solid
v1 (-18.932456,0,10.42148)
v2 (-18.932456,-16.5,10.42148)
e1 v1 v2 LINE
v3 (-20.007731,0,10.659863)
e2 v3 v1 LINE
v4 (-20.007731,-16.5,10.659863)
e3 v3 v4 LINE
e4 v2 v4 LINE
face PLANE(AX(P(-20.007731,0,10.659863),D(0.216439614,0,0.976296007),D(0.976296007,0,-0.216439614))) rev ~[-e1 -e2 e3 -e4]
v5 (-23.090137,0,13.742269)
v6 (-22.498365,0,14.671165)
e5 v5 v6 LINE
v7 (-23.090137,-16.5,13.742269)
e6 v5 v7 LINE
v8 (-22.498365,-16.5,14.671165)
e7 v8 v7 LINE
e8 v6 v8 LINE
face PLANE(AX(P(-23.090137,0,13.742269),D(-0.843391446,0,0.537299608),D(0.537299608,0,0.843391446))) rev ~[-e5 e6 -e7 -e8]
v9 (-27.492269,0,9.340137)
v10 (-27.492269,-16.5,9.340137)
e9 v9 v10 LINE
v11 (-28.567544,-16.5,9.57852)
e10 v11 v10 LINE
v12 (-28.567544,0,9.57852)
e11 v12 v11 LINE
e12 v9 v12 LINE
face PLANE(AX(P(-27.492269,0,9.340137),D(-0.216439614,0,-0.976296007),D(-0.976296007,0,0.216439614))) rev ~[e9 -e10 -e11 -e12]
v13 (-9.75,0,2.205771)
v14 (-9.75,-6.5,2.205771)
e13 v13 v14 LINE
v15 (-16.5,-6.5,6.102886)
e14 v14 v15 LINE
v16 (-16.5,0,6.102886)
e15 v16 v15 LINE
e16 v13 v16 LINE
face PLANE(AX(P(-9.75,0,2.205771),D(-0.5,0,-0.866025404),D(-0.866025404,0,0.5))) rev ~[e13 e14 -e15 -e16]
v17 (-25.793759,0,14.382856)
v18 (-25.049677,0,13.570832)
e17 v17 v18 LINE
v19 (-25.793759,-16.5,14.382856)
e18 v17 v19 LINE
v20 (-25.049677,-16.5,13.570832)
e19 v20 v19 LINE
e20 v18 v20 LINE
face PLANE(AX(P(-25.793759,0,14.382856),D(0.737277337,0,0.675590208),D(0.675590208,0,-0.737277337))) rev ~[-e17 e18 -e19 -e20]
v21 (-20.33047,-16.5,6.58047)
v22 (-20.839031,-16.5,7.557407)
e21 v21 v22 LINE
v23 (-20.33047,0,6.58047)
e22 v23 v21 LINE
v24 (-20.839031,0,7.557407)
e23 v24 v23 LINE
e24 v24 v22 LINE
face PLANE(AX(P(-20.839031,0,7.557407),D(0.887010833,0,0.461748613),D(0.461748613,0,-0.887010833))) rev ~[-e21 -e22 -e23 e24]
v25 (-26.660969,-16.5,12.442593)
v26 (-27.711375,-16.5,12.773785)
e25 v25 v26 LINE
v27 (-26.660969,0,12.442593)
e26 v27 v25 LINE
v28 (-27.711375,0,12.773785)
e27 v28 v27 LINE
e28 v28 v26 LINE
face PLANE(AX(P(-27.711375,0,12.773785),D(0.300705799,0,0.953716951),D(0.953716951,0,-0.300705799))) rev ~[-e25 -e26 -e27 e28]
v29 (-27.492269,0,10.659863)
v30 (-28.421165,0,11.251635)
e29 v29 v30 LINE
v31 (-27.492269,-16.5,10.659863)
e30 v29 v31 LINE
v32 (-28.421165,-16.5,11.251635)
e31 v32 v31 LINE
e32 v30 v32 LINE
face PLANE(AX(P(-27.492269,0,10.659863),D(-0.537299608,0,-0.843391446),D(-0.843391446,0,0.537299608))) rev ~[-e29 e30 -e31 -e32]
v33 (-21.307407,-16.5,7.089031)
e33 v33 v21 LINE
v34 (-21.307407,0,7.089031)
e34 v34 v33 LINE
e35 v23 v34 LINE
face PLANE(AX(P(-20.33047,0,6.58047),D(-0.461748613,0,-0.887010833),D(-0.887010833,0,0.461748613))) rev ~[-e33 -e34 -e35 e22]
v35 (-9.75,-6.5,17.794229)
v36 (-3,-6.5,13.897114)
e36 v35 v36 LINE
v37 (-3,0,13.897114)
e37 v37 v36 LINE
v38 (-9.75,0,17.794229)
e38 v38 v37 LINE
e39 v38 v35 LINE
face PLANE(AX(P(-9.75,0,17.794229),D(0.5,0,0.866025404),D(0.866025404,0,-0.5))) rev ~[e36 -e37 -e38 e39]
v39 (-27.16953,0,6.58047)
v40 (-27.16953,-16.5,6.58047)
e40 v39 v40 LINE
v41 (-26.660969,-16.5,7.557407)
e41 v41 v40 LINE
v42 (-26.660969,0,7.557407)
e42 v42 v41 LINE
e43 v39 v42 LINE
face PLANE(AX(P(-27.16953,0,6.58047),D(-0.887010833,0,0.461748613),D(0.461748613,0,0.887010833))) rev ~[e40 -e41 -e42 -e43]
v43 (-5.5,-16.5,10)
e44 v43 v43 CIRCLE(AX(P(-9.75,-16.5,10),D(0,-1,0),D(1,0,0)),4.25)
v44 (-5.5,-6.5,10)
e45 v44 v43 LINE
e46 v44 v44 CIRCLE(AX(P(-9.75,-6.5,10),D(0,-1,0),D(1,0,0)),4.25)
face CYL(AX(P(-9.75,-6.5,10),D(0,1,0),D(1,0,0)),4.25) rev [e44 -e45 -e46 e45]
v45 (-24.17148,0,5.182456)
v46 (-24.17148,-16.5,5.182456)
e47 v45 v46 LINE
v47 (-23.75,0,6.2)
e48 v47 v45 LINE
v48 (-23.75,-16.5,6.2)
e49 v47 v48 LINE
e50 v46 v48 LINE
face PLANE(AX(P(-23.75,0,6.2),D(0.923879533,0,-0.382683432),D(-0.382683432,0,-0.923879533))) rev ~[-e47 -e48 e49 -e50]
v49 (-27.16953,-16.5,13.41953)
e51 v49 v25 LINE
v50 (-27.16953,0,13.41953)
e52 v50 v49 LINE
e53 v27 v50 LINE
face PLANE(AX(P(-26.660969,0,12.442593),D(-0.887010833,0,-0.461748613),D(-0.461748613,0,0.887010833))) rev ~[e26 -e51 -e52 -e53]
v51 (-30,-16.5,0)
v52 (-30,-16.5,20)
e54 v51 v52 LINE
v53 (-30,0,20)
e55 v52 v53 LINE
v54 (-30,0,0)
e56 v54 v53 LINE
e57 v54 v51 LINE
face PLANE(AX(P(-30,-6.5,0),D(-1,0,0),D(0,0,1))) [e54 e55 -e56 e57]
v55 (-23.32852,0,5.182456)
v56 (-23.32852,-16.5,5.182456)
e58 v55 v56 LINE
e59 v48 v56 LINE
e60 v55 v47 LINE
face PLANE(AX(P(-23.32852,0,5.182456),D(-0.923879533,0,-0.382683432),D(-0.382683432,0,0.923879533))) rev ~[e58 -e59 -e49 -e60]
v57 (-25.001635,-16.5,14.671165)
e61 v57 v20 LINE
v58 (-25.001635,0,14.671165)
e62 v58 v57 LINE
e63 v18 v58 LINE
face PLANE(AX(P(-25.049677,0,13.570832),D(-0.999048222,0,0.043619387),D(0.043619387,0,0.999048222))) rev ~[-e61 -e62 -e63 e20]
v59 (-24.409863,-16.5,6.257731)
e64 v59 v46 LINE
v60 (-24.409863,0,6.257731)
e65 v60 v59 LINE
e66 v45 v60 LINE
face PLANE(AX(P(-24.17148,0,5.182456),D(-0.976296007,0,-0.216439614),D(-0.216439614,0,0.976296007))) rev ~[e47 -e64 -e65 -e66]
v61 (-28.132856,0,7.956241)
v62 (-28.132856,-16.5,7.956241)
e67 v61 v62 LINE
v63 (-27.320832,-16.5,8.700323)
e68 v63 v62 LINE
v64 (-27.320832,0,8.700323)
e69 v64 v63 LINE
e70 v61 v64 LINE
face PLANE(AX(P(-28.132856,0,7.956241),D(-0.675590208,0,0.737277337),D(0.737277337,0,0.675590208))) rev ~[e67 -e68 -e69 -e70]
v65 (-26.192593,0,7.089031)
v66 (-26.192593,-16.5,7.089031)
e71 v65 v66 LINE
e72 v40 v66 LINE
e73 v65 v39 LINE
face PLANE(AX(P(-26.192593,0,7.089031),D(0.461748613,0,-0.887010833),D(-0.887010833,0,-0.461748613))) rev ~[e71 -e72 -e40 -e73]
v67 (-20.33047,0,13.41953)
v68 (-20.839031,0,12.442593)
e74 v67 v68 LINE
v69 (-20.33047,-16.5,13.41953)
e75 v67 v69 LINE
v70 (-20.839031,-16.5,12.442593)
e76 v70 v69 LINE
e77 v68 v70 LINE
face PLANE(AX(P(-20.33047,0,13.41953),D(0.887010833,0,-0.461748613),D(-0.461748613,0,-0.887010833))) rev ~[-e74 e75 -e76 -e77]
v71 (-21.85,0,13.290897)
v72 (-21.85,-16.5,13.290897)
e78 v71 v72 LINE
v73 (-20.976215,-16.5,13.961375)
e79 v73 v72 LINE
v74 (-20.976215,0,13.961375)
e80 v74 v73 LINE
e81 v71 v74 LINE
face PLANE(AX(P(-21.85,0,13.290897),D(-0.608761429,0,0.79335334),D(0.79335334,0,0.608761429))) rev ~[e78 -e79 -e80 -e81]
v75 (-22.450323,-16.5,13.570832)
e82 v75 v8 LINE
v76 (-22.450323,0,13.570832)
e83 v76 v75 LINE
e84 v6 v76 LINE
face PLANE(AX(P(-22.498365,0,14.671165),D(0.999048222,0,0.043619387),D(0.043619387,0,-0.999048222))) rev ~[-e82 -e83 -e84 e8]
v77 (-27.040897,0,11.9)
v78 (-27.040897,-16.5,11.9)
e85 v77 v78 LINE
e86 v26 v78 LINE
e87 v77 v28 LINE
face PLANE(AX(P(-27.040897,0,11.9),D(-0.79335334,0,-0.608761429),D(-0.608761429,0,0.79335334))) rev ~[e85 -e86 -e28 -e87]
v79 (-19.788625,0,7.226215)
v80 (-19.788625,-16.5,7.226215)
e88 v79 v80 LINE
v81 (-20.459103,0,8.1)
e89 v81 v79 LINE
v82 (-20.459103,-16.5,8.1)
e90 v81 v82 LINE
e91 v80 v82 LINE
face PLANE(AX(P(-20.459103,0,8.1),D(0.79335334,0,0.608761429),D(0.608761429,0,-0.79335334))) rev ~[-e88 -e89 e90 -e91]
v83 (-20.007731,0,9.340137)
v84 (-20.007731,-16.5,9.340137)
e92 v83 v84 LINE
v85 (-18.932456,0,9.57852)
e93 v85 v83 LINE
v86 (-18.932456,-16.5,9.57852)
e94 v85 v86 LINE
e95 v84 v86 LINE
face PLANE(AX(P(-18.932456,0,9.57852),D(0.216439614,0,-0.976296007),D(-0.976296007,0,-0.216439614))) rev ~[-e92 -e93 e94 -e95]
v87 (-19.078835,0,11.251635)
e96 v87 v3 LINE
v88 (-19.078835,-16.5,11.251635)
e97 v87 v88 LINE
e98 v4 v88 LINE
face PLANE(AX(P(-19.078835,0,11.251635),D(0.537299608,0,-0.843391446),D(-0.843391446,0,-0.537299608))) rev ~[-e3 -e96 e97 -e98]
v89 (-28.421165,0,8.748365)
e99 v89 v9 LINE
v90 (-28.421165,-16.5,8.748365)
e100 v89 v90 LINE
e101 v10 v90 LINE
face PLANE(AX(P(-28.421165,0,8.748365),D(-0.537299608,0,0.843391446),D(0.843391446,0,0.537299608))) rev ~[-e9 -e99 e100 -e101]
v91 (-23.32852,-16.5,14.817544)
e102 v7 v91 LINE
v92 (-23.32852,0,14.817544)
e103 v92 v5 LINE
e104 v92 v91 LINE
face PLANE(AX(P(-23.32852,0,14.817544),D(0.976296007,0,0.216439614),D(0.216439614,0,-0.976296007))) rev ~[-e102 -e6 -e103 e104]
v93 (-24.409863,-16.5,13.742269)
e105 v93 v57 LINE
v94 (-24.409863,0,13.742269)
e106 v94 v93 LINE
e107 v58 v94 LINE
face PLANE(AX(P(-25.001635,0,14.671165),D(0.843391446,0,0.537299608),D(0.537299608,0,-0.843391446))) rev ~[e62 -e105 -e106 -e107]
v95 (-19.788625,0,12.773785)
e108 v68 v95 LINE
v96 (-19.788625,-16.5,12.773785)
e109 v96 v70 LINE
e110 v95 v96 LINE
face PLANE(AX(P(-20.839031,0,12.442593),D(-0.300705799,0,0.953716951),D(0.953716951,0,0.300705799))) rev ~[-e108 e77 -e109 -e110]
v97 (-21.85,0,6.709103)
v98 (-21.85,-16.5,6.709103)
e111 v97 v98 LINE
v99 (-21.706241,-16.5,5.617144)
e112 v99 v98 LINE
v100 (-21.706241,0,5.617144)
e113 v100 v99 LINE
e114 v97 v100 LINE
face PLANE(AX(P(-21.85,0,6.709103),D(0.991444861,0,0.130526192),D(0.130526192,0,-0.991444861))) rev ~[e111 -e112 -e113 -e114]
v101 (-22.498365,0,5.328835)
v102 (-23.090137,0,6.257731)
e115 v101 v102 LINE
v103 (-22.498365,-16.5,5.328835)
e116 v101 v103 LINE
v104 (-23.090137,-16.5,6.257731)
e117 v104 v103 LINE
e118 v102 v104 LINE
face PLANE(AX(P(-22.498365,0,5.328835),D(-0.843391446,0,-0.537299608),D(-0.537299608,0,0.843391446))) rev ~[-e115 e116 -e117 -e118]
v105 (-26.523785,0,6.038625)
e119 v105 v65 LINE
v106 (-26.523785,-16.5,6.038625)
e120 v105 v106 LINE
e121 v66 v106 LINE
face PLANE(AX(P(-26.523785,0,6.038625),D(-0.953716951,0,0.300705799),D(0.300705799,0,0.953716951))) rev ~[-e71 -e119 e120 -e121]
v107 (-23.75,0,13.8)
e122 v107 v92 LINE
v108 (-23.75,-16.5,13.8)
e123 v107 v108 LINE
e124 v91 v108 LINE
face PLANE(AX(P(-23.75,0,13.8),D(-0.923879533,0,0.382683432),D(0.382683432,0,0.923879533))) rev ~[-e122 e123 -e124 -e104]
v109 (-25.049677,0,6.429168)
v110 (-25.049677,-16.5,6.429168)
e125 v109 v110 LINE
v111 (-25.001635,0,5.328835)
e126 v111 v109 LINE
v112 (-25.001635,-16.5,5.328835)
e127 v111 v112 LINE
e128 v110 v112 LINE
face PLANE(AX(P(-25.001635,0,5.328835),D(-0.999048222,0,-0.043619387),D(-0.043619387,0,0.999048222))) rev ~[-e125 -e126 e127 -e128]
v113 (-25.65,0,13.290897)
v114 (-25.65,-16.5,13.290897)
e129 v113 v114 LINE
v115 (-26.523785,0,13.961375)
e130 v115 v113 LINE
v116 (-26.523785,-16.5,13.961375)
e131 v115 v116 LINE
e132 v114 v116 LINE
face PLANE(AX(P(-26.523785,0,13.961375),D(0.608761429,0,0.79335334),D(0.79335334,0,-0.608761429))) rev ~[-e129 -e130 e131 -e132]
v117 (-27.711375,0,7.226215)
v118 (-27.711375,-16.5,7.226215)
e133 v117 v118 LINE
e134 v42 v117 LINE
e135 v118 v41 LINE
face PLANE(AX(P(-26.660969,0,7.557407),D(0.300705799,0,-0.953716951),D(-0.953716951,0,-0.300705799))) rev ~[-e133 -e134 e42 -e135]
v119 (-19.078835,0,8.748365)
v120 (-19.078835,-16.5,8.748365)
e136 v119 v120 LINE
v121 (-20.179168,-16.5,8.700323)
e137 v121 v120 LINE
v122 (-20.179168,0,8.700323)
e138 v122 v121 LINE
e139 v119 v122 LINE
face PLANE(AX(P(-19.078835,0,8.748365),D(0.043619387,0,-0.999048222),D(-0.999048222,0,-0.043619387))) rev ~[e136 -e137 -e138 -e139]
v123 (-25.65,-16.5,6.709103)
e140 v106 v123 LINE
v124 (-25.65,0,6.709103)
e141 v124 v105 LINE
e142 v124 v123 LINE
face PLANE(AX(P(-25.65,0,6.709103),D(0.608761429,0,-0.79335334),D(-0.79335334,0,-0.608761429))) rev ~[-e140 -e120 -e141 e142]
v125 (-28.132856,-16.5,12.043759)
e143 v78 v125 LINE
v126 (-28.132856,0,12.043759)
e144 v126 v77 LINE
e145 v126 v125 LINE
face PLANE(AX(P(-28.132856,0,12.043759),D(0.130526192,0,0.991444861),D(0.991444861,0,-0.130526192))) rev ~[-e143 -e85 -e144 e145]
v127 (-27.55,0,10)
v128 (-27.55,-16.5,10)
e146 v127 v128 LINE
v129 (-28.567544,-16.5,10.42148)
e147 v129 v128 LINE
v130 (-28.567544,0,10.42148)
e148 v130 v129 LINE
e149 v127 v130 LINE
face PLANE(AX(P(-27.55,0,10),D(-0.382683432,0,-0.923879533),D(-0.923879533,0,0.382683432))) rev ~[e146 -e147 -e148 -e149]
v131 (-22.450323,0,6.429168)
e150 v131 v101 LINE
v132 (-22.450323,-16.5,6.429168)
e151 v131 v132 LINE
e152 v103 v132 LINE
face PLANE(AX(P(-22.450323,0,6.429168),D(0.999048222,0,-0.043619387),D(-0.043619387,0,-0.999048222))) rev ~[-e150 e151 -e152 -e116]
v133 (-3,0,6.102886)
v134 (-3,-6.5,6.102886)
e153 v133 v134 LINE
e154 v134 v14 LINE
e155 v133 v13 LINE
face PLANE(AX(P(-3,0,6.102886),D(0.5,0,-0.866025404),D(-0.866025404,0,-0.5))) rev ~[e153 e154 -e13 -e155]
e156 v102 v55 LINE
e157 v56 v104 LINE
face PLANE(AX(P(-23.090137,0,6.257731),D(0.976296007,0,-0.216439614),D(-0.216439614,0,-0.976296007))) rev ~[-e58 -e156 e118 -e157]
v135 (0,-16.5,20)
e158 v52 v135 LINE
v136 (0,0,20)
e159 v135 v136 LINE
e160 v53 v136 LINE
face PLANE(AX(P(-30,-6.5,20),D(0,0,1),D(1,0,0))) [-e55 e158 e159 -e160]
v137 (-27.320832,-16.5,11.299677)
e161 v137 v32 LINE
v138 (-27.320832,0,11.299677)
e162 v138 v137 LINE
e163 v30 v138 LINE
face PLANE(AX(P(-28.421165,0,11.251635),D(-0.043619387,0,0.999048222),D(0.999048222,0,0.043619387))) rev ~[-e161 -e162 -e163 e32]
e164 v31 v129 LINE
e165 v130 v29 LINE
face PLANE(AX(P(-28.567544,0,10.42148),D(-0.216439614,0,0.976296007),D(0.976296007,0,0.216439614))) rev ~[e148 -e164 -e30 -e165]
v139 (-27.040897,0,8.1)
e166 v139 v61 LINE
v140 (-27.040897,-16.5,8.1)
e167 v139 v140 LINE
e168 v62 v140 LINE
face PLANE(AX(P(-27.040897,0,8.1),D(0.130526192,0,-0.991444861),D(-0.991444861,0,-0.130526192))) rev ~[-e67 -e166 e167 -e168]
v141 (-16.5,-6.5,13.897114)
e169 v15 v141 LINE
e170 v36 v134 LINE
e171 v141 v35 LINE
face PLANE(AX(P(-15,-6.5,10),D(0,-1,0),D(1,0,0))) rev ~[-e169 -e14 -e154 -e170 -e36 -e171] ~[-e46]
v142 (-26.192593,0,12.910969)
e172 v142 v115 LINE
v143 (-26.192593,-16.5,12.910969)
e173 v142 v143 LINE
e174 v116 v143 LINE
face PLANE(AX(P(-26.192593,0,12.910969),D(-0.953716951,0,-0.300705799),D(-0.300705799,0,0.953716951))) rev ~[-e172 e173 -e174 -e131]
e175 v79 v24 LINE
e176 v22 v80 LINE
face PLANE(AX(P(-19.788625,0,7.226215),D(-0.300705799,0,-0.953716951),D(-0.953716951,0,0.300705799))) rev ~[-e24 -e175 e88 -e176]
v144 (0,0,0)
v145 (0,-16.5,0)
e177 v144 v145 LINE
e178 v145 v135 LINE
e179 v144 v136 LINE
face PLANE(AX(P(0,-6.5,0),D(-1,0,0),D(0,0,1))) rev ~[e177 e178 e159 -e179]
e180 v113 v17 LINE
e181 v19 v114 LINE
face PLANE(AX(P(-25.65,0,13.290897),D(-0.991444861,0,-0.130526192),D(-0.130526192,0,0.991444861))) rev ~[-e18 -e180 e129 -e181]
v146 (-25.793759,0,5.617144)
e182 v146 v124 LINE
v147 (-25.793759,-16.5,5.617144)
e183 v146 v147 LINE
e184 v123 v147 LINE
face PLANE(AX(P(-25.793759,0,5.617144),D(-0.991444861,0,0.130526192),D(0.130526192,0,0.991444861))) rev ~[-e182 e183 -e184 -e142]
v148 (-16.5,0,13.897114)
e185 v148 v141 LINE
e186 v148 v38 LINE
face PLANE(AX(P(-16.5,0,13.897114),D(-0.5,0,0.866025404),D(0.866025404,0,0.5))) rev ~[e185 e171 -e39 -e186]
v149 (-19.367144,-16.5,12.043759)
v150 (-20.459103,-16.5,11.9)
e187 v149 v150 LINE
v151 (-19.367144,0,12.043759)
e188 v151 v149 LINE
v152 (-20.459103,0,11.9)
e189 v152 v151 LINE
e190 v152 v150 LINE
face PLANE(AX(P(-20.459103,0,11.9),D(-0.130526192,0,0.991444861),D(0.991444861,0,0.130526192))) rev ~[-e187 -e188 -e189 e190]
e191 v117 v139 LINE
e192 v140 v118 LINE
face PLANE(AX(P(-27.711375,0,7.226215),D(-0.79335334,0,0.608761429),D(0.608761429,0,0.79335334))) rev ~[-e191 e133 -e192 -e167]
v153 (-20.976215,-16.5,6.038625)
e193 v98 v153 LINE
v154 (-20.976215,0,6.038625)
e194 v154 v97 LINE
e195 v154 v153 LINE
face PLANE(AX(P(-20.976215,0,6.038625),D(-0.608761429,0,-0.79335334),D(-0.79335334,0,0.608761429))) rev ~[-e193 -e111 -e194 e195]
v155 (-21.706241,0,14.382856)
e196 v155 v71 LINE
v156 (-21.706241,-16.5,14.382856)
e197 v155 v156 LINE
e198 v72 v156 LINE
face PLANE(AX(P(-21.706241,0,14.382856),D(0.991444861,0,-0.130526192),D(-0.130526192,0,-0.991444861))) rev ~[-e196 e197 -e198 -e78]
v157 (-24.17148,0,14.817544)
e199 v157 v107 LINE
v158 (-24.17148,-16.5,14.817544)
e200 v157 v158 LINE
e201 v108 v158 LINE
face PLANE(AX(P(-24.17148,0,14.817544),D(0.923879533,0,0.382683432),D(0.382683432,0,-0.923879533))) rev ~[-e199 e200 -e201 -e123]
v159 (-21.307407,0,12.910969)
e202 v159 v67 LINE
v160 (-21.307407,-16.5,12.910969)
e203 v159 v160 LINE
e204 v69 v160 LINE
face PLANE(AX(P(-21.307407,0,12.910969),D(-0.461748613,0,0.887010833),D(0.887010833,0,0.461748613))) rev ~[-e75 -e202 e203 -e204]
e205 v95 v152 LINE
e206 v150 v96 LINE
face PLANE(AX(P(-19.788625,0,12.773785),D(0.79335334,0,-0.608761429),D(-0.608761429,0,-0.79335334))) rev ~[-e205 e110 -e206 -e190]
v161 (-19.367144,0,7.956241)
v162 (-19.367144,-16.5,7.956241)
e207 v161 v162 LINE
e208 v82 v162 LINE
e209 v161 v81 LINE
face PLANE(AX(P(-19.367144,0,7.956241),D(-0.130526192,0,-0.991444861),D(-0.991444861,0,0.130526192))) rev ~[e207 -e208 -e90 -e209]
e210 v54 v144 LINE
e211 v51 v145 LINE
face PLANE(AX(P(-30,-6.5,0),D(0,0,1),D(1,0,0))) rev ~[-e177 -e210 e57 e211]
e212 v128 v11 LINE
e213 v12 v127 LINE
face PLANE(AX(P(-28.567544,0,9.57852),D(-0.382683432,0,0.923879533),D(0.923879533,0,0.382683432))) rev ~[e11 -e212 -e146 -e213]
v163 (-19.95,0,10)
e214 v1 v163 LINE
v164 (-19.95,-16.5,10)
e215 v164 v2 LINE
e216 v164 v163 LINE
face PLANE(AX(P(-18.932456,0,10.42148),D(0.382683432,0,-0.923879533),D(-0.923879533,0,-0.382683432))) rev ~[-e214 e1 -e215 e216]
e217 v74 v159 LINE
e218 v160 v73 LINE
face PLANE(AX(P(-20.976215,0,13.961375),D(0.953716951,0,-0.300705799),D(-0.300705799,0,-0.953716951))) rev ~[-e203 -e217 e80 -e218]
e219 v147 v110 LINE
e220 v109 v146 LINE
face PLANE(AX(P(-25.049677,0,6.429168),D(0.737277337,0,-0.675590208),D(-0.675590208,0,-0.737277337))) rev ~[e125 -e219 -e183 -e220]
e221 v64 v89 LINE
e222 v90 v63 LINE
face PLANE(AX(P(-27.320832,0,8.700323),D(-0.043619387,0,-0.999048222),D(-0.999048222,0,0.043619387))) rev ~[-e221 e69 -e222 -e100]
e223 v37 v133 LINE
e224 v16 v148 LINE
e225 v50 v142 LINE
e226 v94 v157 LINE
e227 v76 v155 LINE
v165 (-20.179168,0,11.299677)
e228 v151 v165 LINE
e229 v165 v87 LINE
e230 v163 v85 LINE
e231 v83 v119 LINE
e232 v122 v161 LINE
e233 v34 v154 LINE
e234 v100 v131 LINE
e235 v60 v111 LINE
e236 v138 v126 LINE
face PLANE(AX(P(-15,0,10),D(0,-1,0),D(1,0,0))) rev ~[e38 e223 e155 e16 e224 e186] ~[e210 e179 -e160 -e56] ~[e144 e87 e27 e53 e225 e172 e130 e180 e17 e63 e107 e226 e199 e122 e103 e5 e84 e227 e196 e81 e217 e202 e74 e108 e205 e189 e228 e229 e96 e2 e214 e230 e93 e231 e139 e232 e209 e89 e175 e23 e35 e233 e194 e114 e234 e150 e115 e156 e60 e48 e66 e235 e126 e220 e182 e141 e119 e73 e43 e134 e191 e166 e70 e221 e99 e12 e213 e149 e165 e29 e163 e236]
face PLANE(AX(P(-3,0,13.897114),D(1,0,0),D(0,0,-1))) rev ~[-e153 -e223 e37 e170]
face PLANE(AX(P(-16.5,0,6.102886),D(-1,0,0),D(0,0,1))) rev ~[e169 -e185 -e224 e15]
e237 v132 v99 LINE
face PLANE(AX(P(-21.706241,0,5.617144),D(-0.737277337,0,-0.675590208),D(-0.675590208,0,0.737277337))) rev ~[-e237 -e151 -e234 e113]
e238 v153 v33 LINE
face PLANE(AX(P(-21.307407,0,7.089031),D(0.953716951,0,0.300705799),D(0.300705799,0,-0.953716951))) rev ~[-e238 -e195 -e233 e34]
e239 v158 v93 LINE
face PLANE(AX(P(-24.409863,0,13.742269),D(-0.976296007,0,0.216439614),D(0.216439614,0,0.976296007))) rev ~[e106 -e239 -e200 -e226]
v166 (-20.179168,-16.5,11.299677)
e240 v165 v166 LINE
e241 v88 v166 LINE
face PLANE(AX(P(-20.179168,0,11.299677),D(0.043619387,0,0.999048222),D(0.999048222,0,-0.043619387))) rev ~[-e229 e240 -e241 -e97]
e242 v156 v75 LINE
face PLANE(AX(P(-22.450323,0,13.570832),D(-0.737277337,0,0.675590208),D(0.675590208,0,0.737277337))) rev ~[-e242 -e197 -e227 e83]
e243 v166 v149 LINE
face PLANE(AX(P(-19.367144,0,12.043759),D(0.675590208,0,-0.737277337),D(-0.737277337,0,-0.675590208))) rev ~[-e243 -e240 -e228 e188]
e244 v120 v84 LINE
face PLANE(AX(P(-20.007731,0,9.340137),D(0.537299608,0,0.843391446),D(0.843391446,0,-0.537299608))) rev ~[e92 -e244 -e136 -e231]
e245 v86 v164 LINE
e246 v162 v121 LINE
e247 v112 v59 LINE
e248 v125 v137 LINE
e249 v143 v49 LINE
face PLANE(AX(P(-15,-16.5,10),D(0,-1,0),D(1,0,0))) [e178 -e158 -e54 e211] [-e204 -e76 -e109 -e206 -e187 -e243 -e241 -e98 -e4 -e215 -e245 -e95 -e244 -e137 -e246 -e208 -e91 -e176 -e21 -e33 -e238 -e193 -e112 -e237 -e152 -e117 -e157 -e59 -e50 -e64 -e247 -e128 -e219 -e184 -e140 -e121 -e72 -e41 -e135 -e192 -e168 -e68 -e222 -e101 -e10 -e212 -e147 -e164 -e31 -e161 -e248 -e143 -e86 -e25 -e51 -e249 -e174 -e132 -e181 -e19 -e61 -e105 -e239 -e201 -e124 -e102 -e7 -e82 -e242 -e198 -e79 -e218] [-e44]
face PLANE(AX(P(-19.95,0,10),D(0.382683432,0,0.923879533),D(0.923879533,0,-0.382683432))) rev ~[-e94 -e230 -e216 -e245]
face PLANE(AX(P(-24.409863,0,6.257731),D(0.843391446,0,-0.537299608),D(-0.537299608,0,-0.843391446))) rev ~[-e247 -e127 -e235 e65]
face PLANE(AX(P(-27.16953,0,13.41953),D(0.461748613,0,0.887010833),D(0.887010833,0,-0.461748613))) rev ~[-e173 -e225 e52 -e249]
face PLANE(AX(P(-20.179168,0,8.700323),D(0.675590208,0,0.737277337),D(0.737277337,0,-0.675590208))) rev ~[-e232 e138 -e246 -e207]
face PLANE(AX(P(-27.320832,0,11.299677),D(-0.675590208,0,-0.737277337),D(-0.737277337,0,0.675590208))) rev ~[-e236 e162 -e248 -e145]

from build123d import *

# Parameters (mm, degrees)
F0_W     = 30
F0_H     = 20
F0_R     = 3.8
F1_DEPTH = 6.5
F2_W     = 30
F2_H     = 20
F2_R     = 3.8
F2_R_2   = 4.25
F3_DEPTH = 10
F5_DEPTH = 25


with BuildPart() as f1:
    # F0 (on Front) → F1 (new body)
    with BuildSketch(Plane.XZ):
        with Locations((-15, 10)):
            Rectangle(F0_W, F0_H)
        Polygon((-3, 6.102885683), (-9.75, 2.2057713659), (-16.5, 6.102885683), (-16.5, 13.897114317), (-9.75, 17.7942286341), (-3, 13.897114317), align=None, mode=Mode.SUBTRACT)
        with Locations((-23.75, 10)):
            Circle(F0_R, mode=Mode.SUBTRACT)
    extrude(amount=F1_DEPTH)

    # F2 (on face) → F3 (join)
    with BuildSketch(Plane.XZ.offset(6.5)):
        with Locations((-15, 10)):
            Rectangle(F2_W, F2_H)
        with Locations((-23.75, 10)):
            Circle(F2_R, mode=Mode.SUBTRACT)
        with Locations((-9.75, 10)):
            Circle(F2_R_2, mode=Mode.SUBTRACT)
    extrude(amount=F3_DEPTH)

    # F4 (on face) → F5 (cut)
    with BuildSketch(Plane(origin=(0, 0, 0), x_dir=(-1, 0, 0), z_dir=(0, 1, 0))):
        with BuildLine():
            ThreePointArc((23.0901369249, 13.7422694614), (23.4188081776, 13.7855398527), (23.75, 13.8))
            Line((23.75, 13.8), (23.3285195244, 14.8175438804))
            Line((23.3285195244, 14.8175438804), (23.0901369249, 13.7422694614))
        make_face()
        with BuildLine():
            Line((24.1714804756, 14.8175438804), (23.75, 13.8))
            ThreePointArc((23.75, 13.8), (24.0811918224, 13.7855398527), (24.4098630751, 13.7422694614))
            Line((24.4098630751, 13.7422694614), (24.1714804756, 14.8175438804))
        make_face()
        with BuildLine():
            ThreePointArc((24.4098630751, 13.7422694614), (24.0811918224, 13.7855398527), (23.75, 13.8))
            ThreePointArc((23.75, 13.8), (23.4188081776, 13.7855398527), (23.0901369249, 13.7422694614))
            ThreePointArc((23.0901369249, 13.7422694614), (22.7664876286, 13.6705181399), (22.4503234554, 13.570831959))
            ThreePointArc((22.4503234554, 13.570831959), (22.1440506054, 13.4439695907), (21.85, 13.2908965344))
            ThreePointArc((21.85, 13.2908965344), (21.5704095419, 13.1127777683), (21.3074070832, 12.9109688839))
            ThreePointArc((21.3074070832, 12.9109688839), (21.0629942315, 12.6870057685), (20.8390311161, 12.4425929168))
            ThreePointArc((20.8390311161, 12.4425929168), (20.6372222317, 12.1795904581), (20.4591034656, 11.9))
            ThreePointArc((20.4591034656, 11.9), (20.3060304093, 11.6059493946), (20.179168041, 11.2996765446))
            ThreePointArc((20.179168041, 11.2996765446), (20.0794818601, 10.9835123714), (20.0077305386, 10.6598630751))
            ThreePointArc((20.0077305386, 10.6598630751), (19.9644601473, 10.3311918224), (19.95, 10))
            ThreePointArc((19.95, 10), (19.9644601473, 9.6688081776), (20.0077305386, 9.3401369249))
            ThreePointArc((20.0077305386, 9.3401369249), (20.0794818601, 9.0164876286), (20.179168041, 8.7003234554))
            ThreePointArc((20.179168041, 8.7003234554), (20.3060304093, 8.3940506054), (20.4591034656, 8.1))
            ThreePointArc((20.4591034656, 8.1), (20.6372222317, 7.8204095419), (20.8390311161, 7.5574070832))
            ThreePointArc((20.8390311161, 7.5574070832), (21.0629942315, 7.3129942315), (21.3074070832, 7.0890311161))
            ThreePointArc((21.3074070832, 7.0890311161), (21.5704095419, 6.8872222317), (21.85, 6.7091034656))
            ThreePointArc((21.85, 6.7091034656), (22.1440506054, 6.5560304093), (22.4503234554, 6.429168041))
            ThreePointArc((22.4503234554, 6.429168041), (22.7664876286, 6.3294818601), (23.0901369249, 6.2577305386))
            ThreePointArc((23.0901369249, 6.2577305386), (23.4188081776, 6.2144601473), (23.75, 6.2))
            ThreePointArc((23.75, 6.2), (24.0811918224, 6.2144601473), (24.4098630751, 6.2577305386))
            ThreePointArc((24.4098630751, 6.2577305386), (24.7335123714, 6.3294818601), (25.0496765446, 6.429168041))
            ThreePointArc((25.0496765446, 6.429168041), (25.3559493946, 6.5560304093), (25.65, 6.7091034656))
            ThreePointArc((25.65, 6.7091034656), (25.9295904581, 6.8872222317), (26.1925929168, 7.0890311161))
            ThreePointArc((26.1925929168, 7.0890311161), (26.4370057685, 7.3129942315), (26.6609688839, 7.5574070832))
            ThreePointArc((26.6609688839, 7.5574070832), (26.8627777683, 7.8204095419), (27.0408965344, 8.1))
            ThreePointArc((27.0408965344, 8.1), (27.1939695907, 8.3940506054), (27.320831959, 8.7003234554))
            ThreePointArc((27.320831959, 8.7003234554), (27.4205181399, 9.0164876286), (27.4922694614, 9.3401369249))
            ThreePointArc((27.4922694614, 9.3401369249), (27.5355398527, 9.6688081776), (27.55, 10))
            ThreePointArc((27.55, 10), (27.5355398527, 10.3311918224), (27.4922694614, 10.6598630751))
            ThreePointArc((27.4922694614, 10.6598630751), (27.4205181399, 10.9835123714), (27.320831959, 11.2996765446))
            ThreePointArc((27.320831959, 11.2996765446), (27.1939695907, 11.6059493946), (27.0408965344, 11.9))
            ThreePointArc((27.0408965344, 11.9), (26.8627777683, 12.1795904581), (26.6609688839, 12.4425929168))
            ThreePointArc((26.6609688839, 12.4425929168), (26.4370057685, 12.6870057685), (26.1925929168, 12.9109688839))
            ThreePointArc((26.1925929168, 12.9109688839), (25.9295904581, 13.1127777683), (25.65, 13.2908965344))
            ThreePointArc((25.65, 13.2908965344), (25.3559493946, 13.4439695907), (25.0496765446, 13.570831959))
            ThreePointArc((25.0496765446, 13.570831959), (24.7335123714, 13.6705181399), (24.4098630751, 13.7422694614))
        make_face()
        with BuildLine():
            Line((25.0016349558, 14.6711652474), (24.4098630751, 13.7422694614))
            ThreePointArc((24.4098630751, 13.7422694614), (24.7335123714, 13.6705181399), (25.0496765446, 13.570831959))
            Line((25.0496765446, 13.570831959), (25.0016349558, 14.6711652474))
        make_face()
        with BuildLine():
            ThreePointArc((22.4503234554, 13.570831959), (22.7664876286, 13.6705181399), (23.0901369249, 13.7422694614))
            Line((23.0901369249, 13.7422694614), (22.4983650442, 14.6711652474))
            Line((22.4983650442, 14.6711652474), (22.4503234554, 13.570831959))
        make_face()
        with BuildLine():
            Line((25.7937591412, 14.3828556221), (25.0496765446, 13.570831959))
            ThreePointArc((25.0496765446, 13.570831959), (25.3559493946, 13.4439695907), (25.65, 13.2908965344))
            Line((25.65, 13.2908965344), (25.7937591412, 14.3828556221))
        make_face()
        with BuildLine():
            ThreePointArc((21.85, 13.2908965344), (22.1440506054, 13.4439695907), (22.4503234554, 13.570831959))
            Line((22.4503234554, 13.570831959), (21.7062408588, 14.3828556221))
            Line((21.7062408588, 14.3828556221), (21.85, 13.2908965344))
        make_face()
        with BuildLine():
            Line((26.5237847392, 13.9613751465), (25.65, 13.2908965344))
            ThreePointArc((25.65, 13.2908965344), (25.9295904581, 13.1127777683), (26.1925929168, 12.9109688839))
            Line((26.1925929168, 12.9109688839), (26.5237847392, 13.9613751465))
        make_face()
        with BuildLine():
            ThreePointArc((21.3074070832, 12.9109688839), (21.5704095419, 13.1127777683), (21.85, 13.2908965344))
            Line((21.85, 13.2908965344), (20.9762152608, 13.9613751465))
            Line((20.9762152608, 13.9613751465), (21.3074070832, 12.9109688839))
        make_face()
        with BuildLine():
            Line((27.1695302916, 13.4195302916), (26.1925929168, 12.9109688839))
            ThreePointArc((26.1925929168, 12.9109688839), (26.4370057685, 12.6870057685), (26.6609688839, 12.4425929168))
            Line((26.6609688839, 12.4425929168), (27.1695302916, 13.4195302916))
        make_face()
        with BuildLine():
            ThreePointArc((20.8390311161, 12.4425929168), (21.0629942315, 12.6870057685), (21.3074070832, 12.9109688839))
            Line((21.3074070832, 12.9109688839), (20.3304697084, 13.4195302916))
            Line((20.3304697084, 13.4195302916), (20.8390311161, 12.4425929168))
        make_face()
        with BuildLine():
            Line((27.7113751465, 12.7737847392), (26.6609688839, 12.4425929168))
            ThreePointArc((26.6609688839, 12.4425929168), (26.8627777683, 12.1795904581), (27.0408965344, 11.9))
            Line((27.0408965344, 11.9), (27.7113751465, 12.7737847392))
        make_face()
        with BuildLine():
            ThreePointArc((20.4591034656, 11.9), (20.6372222317, 12.1795904581), (20.8390311161, 12.4425929168))
            Line((20.8390311161, 12.4425929168), (19.7886248535, 12.7737847392))
            Line((19.7886248535, 12.7737847392), (20.4591034656, 11.9))
        make_face()
        with BuildLine():
            Line((28.1328556221, 12.0437591412), (27.0408965344, 11.9))
            ThreePointArc((27.0408965344, 11.9), (27.1939695907, 11.6059493946), (27.320831959, 11.2996765446))
            Line((27.320831959, 11.2996765446), (28.1328556221, 12.0437591412))
        make_face()
        with BuildLine():
            ThreePointArc((20.179168041, 11.2996765446), (20.3060304093, 11.6059493946), (20.4591034656, 11.9))
            Line((20.4591034656, 11.9), (19.3671443779, 12.0437591412))
            Line((19.3671443779, 12.0437591412), (20.179168041, 11.2996765446))
        make_face()
        with BuildLine():
            Line((28.4211652474, 11.2516349558), (27.320831959, 11.2996765446))
            ThreePointArc((27.320831959, 11.2996765446), (27.4205181399, 10.9835123714), (27.4922694614, 10.6598630751))
            Line((27.4922694614, 10.6598630751), (28.4211652474, 11.2516349558))
        make_face()
        with BuildLine():
            ThreePointArc((20.0077305386, 10.6598630751), (20.0794818601, 10.9835123714), (20.179168041, 11.2996765446))
            Line((20.179168041, 11.2996765446), (19.0788347526, 11.2516349558))
            Line((19.0788347526, 11.2516349558), (20.0077305386, 10.6598630751))
        make_face()
        with BuildLine():
            Line((28.5675438804, 10.4214804756), (27.4922694614, 10.6598630751))
            ThreePointArc((27.4922694614, 10.6598630751), (27.5355398527, 10.3311918224), (27.55, 10))
            Line((27.55, 10), (28.5675438804, 10.4214804756))
        make_face()
        with BuildLine():
            ThreePointArc((19.95, 10), (19.9644601473, 10.3311918224), (20.0077305386, 10.6598630751))
            Line((20.0077305386, 10.6598630751), (18.9324561196, 10.4214804756))
            Line((18.9324561196, 10.4214804756), (19.95, 10))
        make_face()
        with BuildLine():
            Line((28.5675438804, 9.5785195244), (27.55, 10))
            ThreePointArc((27.55, 10), (27.5355398527, 9.6688081776), (27.4922694614, 9.3401369249))
            Line((27.4922694614, 9.3401369249), (28.5675438804, 9.5785195244))
        make_face()
        with BuildLine():
            ThreePointArc((20.0077305386, 9.3401369249), (19.9644601473, 9.6688081776), (19.95, 10))
            Line((19.95, 10), (18.9324561196, 9.5785195244))
            Line((18.9324561196, 9.5785195244), (20.0077305386, 9.3401369249))
        make_face()
        with BuildLine():
            Line((28.4211652474, 8.7483650442), (27.4922694614, 9.3401369249))
            ThreePointArc((27.4922694614, 9.3401369249), (27.4205181399, 9.0164876286), (27.320831959, 8.7003234554))
            Line((27.320831959, 8.7003234554), (28.4211652474, 8.7483650442))
        make_face()
        with BuildLine():
            ThreePointArc((20.179168041, 8.7003234554), (20.0794818601, 9.0164876286), (20.0077305386, 9.3401369249))
            Line((20.0077305386, 9.3401369249), (19.0788347526, 8.7483650442))
            Line((19.0788347526, 8.7483650442), (20.179168041, 8.7003234554))
        make_face()
        with BuildLine():
            Line((28.1328556221, 7.9562408588), (27.320831959, 8.7003234554))
            ThreePointArc((27.320831959, 8.7003234554), (27.1939695907, 8.3940506054), (27.0408965344, 8.1))
            Line((27.0408965344, 8.1), (28.1328556221, 7.9562408588))
        make_face()
        with BuildLine():
            ThreePointArc((20.4591034656, 8.1), (20.3060304093, 8.3940506054), (20.179168041, 8.7003234554))
            Line((20.179168041, 8.7003234554), (19.3671443779, 7.9562408588))
            Line((19.3671443779, 7.9562408588), (20.4591034656, 8.1))
        make_face()
        with BuildLine():
            Line((27.7113751465, 7.2262152608), (27.0408965344, 8.1))
            ThreePointArc((27.0408965344, 8.1), (26.8627777683, 7.8204095419), (26.6609688839, 7.5574070832))
            Line((26.6609688839, 7.5574070832), (27.7113751465, 7.2262152608))
        make_face()
        with BuildLine():
            ThreePointArc((20.8390311161, 7.5574070832), (20.6372222317, 7.8204095419), (20.4591034656, 8.1))
            Line((20.4591034656, 8.1), (19.7886248535, 7.2262152608))
            Line((19.7886248535, 7.2262152608), (20.8390311161, 7.5574070832))
        make_face()
        with BuildLine():
            Line((27.1695302916, 6.5804697084), (26.6609688839, 7.5574070832))
            ThreePointArc((26.6609688839, 7.5574070832), (26.4370057685, 7.3129942315), (26.1925929168, 7.0890311161))
            Line((26.1925929168, 7.0890311161), (27.1695302916, 6.5804697084))
        make_face()
        with BuildLine():
            ThreePointArc((21.3074070832, 7.0890311161), (21.0629942315, 7.3129942315), (20.8390311161, 7.5574070832))
            Line((20.8390311161, 7.5574070832), (20.3304697084, 6.5804697084))
            Line((20.3304697084, 6.5804697084), (21.3074070832, 7.0890311161))
        make_face()
        with BuildLine():
            Line((26.5237847392, 6.0386248535), (26.1925929168, 7.0890311161))
            ThreePointArc((26.1925929168, 7.0890311161), (25.9295904581, 6.8872222317), (25.65, 6.7091034656))
            Line((25.65, 6.7091034656), (26.5237847392, 6.0386248535))
        make_face()
        with BuildLine():
            ThreePointArc((21.85, 6.7091034656), (21.5704095419, 6.8872222317), (21.3074070832, 7.0890311161))
            Line((21.3074070832, 7.0890311161), (20.9762152608, 6.0386248535))
            Line((20.9762152608, 6.0386248535), (21.85, 6.7091034656))
        make_face()
        with BuildLine():
            Line((25.7937591412, 5.6171443779), (25.65, 6.7091034656))
            ThreePointArc((25.65, 6.7091034656), (25.3559493946, 6.5560304093), (25.0496765446, 6.429168041))
            Line((25.0496765446, 6.429168041), (25.7937591412, 5.6171443779))
        make_face()
        with BuildLine():
            ThreePointArc((22.4503234554, 6.429168041), (22.1440506054, 6.5560304093), (21.85, 6.7091034656))
            Line((21.85, 6.7091034656), (21.7062408588, 5.6171443779))
            Line((21.7062408588, 5.6171443779), (22.4503234554, 6.429168041))
        make_face()
        with BuildLine():
            Line((25.0016349558, 5.3288347526), (25.0496765446, 6.429168041))
            ThreePointArc((25.0496765446, 6.429168041), (24.7335123714, 6.3294818601), (24.4098630751, 6.2577305386))
            Line((24.4098630751, 6.2577305386), (25.0016349558, 5.3288347526))
        make_face()
        with BuildLine():
            ThreePointArc((23.0901369249, 6.2577305386), (22.7664876286, 6.3294818601), (22.4503234554, 6.429168041))
            Line((22.4503234554, 6.429168041), (22.4983650442, 5.3288347526))
            Line((22.4983650442, 5.3288347526), (23.0901369249, 6.2577305386))
        make_face()
        with BuildLine():
            Line((24.1714804756, 5.1824561196), (24.4098630751, 6.2577305386))
            ThreePointArc((24.4098630751, 6.2577305386), (24.0811918224, 6.2144601473), (23.75, 6.2))
            Line((23.75, 6.2), (24.1714804756, 5.1824561196))
        make_face()
        with BuildLine():
            ThreePointArc((23.75, 6.2), (23.4188081776, 6.2144601473), (23.0901369249, 6.2577305386))
            Line((23.0901369249, 6.2577305386), (23.3285195244, 5.1824561196))
            Line((23.3285195244, 5.1824561196), (23.75, 6.2))
        make_face()
    extrude(amount=-F5_DEPTH, mode=Mode.SUBTRACT)


solid = f1.part
